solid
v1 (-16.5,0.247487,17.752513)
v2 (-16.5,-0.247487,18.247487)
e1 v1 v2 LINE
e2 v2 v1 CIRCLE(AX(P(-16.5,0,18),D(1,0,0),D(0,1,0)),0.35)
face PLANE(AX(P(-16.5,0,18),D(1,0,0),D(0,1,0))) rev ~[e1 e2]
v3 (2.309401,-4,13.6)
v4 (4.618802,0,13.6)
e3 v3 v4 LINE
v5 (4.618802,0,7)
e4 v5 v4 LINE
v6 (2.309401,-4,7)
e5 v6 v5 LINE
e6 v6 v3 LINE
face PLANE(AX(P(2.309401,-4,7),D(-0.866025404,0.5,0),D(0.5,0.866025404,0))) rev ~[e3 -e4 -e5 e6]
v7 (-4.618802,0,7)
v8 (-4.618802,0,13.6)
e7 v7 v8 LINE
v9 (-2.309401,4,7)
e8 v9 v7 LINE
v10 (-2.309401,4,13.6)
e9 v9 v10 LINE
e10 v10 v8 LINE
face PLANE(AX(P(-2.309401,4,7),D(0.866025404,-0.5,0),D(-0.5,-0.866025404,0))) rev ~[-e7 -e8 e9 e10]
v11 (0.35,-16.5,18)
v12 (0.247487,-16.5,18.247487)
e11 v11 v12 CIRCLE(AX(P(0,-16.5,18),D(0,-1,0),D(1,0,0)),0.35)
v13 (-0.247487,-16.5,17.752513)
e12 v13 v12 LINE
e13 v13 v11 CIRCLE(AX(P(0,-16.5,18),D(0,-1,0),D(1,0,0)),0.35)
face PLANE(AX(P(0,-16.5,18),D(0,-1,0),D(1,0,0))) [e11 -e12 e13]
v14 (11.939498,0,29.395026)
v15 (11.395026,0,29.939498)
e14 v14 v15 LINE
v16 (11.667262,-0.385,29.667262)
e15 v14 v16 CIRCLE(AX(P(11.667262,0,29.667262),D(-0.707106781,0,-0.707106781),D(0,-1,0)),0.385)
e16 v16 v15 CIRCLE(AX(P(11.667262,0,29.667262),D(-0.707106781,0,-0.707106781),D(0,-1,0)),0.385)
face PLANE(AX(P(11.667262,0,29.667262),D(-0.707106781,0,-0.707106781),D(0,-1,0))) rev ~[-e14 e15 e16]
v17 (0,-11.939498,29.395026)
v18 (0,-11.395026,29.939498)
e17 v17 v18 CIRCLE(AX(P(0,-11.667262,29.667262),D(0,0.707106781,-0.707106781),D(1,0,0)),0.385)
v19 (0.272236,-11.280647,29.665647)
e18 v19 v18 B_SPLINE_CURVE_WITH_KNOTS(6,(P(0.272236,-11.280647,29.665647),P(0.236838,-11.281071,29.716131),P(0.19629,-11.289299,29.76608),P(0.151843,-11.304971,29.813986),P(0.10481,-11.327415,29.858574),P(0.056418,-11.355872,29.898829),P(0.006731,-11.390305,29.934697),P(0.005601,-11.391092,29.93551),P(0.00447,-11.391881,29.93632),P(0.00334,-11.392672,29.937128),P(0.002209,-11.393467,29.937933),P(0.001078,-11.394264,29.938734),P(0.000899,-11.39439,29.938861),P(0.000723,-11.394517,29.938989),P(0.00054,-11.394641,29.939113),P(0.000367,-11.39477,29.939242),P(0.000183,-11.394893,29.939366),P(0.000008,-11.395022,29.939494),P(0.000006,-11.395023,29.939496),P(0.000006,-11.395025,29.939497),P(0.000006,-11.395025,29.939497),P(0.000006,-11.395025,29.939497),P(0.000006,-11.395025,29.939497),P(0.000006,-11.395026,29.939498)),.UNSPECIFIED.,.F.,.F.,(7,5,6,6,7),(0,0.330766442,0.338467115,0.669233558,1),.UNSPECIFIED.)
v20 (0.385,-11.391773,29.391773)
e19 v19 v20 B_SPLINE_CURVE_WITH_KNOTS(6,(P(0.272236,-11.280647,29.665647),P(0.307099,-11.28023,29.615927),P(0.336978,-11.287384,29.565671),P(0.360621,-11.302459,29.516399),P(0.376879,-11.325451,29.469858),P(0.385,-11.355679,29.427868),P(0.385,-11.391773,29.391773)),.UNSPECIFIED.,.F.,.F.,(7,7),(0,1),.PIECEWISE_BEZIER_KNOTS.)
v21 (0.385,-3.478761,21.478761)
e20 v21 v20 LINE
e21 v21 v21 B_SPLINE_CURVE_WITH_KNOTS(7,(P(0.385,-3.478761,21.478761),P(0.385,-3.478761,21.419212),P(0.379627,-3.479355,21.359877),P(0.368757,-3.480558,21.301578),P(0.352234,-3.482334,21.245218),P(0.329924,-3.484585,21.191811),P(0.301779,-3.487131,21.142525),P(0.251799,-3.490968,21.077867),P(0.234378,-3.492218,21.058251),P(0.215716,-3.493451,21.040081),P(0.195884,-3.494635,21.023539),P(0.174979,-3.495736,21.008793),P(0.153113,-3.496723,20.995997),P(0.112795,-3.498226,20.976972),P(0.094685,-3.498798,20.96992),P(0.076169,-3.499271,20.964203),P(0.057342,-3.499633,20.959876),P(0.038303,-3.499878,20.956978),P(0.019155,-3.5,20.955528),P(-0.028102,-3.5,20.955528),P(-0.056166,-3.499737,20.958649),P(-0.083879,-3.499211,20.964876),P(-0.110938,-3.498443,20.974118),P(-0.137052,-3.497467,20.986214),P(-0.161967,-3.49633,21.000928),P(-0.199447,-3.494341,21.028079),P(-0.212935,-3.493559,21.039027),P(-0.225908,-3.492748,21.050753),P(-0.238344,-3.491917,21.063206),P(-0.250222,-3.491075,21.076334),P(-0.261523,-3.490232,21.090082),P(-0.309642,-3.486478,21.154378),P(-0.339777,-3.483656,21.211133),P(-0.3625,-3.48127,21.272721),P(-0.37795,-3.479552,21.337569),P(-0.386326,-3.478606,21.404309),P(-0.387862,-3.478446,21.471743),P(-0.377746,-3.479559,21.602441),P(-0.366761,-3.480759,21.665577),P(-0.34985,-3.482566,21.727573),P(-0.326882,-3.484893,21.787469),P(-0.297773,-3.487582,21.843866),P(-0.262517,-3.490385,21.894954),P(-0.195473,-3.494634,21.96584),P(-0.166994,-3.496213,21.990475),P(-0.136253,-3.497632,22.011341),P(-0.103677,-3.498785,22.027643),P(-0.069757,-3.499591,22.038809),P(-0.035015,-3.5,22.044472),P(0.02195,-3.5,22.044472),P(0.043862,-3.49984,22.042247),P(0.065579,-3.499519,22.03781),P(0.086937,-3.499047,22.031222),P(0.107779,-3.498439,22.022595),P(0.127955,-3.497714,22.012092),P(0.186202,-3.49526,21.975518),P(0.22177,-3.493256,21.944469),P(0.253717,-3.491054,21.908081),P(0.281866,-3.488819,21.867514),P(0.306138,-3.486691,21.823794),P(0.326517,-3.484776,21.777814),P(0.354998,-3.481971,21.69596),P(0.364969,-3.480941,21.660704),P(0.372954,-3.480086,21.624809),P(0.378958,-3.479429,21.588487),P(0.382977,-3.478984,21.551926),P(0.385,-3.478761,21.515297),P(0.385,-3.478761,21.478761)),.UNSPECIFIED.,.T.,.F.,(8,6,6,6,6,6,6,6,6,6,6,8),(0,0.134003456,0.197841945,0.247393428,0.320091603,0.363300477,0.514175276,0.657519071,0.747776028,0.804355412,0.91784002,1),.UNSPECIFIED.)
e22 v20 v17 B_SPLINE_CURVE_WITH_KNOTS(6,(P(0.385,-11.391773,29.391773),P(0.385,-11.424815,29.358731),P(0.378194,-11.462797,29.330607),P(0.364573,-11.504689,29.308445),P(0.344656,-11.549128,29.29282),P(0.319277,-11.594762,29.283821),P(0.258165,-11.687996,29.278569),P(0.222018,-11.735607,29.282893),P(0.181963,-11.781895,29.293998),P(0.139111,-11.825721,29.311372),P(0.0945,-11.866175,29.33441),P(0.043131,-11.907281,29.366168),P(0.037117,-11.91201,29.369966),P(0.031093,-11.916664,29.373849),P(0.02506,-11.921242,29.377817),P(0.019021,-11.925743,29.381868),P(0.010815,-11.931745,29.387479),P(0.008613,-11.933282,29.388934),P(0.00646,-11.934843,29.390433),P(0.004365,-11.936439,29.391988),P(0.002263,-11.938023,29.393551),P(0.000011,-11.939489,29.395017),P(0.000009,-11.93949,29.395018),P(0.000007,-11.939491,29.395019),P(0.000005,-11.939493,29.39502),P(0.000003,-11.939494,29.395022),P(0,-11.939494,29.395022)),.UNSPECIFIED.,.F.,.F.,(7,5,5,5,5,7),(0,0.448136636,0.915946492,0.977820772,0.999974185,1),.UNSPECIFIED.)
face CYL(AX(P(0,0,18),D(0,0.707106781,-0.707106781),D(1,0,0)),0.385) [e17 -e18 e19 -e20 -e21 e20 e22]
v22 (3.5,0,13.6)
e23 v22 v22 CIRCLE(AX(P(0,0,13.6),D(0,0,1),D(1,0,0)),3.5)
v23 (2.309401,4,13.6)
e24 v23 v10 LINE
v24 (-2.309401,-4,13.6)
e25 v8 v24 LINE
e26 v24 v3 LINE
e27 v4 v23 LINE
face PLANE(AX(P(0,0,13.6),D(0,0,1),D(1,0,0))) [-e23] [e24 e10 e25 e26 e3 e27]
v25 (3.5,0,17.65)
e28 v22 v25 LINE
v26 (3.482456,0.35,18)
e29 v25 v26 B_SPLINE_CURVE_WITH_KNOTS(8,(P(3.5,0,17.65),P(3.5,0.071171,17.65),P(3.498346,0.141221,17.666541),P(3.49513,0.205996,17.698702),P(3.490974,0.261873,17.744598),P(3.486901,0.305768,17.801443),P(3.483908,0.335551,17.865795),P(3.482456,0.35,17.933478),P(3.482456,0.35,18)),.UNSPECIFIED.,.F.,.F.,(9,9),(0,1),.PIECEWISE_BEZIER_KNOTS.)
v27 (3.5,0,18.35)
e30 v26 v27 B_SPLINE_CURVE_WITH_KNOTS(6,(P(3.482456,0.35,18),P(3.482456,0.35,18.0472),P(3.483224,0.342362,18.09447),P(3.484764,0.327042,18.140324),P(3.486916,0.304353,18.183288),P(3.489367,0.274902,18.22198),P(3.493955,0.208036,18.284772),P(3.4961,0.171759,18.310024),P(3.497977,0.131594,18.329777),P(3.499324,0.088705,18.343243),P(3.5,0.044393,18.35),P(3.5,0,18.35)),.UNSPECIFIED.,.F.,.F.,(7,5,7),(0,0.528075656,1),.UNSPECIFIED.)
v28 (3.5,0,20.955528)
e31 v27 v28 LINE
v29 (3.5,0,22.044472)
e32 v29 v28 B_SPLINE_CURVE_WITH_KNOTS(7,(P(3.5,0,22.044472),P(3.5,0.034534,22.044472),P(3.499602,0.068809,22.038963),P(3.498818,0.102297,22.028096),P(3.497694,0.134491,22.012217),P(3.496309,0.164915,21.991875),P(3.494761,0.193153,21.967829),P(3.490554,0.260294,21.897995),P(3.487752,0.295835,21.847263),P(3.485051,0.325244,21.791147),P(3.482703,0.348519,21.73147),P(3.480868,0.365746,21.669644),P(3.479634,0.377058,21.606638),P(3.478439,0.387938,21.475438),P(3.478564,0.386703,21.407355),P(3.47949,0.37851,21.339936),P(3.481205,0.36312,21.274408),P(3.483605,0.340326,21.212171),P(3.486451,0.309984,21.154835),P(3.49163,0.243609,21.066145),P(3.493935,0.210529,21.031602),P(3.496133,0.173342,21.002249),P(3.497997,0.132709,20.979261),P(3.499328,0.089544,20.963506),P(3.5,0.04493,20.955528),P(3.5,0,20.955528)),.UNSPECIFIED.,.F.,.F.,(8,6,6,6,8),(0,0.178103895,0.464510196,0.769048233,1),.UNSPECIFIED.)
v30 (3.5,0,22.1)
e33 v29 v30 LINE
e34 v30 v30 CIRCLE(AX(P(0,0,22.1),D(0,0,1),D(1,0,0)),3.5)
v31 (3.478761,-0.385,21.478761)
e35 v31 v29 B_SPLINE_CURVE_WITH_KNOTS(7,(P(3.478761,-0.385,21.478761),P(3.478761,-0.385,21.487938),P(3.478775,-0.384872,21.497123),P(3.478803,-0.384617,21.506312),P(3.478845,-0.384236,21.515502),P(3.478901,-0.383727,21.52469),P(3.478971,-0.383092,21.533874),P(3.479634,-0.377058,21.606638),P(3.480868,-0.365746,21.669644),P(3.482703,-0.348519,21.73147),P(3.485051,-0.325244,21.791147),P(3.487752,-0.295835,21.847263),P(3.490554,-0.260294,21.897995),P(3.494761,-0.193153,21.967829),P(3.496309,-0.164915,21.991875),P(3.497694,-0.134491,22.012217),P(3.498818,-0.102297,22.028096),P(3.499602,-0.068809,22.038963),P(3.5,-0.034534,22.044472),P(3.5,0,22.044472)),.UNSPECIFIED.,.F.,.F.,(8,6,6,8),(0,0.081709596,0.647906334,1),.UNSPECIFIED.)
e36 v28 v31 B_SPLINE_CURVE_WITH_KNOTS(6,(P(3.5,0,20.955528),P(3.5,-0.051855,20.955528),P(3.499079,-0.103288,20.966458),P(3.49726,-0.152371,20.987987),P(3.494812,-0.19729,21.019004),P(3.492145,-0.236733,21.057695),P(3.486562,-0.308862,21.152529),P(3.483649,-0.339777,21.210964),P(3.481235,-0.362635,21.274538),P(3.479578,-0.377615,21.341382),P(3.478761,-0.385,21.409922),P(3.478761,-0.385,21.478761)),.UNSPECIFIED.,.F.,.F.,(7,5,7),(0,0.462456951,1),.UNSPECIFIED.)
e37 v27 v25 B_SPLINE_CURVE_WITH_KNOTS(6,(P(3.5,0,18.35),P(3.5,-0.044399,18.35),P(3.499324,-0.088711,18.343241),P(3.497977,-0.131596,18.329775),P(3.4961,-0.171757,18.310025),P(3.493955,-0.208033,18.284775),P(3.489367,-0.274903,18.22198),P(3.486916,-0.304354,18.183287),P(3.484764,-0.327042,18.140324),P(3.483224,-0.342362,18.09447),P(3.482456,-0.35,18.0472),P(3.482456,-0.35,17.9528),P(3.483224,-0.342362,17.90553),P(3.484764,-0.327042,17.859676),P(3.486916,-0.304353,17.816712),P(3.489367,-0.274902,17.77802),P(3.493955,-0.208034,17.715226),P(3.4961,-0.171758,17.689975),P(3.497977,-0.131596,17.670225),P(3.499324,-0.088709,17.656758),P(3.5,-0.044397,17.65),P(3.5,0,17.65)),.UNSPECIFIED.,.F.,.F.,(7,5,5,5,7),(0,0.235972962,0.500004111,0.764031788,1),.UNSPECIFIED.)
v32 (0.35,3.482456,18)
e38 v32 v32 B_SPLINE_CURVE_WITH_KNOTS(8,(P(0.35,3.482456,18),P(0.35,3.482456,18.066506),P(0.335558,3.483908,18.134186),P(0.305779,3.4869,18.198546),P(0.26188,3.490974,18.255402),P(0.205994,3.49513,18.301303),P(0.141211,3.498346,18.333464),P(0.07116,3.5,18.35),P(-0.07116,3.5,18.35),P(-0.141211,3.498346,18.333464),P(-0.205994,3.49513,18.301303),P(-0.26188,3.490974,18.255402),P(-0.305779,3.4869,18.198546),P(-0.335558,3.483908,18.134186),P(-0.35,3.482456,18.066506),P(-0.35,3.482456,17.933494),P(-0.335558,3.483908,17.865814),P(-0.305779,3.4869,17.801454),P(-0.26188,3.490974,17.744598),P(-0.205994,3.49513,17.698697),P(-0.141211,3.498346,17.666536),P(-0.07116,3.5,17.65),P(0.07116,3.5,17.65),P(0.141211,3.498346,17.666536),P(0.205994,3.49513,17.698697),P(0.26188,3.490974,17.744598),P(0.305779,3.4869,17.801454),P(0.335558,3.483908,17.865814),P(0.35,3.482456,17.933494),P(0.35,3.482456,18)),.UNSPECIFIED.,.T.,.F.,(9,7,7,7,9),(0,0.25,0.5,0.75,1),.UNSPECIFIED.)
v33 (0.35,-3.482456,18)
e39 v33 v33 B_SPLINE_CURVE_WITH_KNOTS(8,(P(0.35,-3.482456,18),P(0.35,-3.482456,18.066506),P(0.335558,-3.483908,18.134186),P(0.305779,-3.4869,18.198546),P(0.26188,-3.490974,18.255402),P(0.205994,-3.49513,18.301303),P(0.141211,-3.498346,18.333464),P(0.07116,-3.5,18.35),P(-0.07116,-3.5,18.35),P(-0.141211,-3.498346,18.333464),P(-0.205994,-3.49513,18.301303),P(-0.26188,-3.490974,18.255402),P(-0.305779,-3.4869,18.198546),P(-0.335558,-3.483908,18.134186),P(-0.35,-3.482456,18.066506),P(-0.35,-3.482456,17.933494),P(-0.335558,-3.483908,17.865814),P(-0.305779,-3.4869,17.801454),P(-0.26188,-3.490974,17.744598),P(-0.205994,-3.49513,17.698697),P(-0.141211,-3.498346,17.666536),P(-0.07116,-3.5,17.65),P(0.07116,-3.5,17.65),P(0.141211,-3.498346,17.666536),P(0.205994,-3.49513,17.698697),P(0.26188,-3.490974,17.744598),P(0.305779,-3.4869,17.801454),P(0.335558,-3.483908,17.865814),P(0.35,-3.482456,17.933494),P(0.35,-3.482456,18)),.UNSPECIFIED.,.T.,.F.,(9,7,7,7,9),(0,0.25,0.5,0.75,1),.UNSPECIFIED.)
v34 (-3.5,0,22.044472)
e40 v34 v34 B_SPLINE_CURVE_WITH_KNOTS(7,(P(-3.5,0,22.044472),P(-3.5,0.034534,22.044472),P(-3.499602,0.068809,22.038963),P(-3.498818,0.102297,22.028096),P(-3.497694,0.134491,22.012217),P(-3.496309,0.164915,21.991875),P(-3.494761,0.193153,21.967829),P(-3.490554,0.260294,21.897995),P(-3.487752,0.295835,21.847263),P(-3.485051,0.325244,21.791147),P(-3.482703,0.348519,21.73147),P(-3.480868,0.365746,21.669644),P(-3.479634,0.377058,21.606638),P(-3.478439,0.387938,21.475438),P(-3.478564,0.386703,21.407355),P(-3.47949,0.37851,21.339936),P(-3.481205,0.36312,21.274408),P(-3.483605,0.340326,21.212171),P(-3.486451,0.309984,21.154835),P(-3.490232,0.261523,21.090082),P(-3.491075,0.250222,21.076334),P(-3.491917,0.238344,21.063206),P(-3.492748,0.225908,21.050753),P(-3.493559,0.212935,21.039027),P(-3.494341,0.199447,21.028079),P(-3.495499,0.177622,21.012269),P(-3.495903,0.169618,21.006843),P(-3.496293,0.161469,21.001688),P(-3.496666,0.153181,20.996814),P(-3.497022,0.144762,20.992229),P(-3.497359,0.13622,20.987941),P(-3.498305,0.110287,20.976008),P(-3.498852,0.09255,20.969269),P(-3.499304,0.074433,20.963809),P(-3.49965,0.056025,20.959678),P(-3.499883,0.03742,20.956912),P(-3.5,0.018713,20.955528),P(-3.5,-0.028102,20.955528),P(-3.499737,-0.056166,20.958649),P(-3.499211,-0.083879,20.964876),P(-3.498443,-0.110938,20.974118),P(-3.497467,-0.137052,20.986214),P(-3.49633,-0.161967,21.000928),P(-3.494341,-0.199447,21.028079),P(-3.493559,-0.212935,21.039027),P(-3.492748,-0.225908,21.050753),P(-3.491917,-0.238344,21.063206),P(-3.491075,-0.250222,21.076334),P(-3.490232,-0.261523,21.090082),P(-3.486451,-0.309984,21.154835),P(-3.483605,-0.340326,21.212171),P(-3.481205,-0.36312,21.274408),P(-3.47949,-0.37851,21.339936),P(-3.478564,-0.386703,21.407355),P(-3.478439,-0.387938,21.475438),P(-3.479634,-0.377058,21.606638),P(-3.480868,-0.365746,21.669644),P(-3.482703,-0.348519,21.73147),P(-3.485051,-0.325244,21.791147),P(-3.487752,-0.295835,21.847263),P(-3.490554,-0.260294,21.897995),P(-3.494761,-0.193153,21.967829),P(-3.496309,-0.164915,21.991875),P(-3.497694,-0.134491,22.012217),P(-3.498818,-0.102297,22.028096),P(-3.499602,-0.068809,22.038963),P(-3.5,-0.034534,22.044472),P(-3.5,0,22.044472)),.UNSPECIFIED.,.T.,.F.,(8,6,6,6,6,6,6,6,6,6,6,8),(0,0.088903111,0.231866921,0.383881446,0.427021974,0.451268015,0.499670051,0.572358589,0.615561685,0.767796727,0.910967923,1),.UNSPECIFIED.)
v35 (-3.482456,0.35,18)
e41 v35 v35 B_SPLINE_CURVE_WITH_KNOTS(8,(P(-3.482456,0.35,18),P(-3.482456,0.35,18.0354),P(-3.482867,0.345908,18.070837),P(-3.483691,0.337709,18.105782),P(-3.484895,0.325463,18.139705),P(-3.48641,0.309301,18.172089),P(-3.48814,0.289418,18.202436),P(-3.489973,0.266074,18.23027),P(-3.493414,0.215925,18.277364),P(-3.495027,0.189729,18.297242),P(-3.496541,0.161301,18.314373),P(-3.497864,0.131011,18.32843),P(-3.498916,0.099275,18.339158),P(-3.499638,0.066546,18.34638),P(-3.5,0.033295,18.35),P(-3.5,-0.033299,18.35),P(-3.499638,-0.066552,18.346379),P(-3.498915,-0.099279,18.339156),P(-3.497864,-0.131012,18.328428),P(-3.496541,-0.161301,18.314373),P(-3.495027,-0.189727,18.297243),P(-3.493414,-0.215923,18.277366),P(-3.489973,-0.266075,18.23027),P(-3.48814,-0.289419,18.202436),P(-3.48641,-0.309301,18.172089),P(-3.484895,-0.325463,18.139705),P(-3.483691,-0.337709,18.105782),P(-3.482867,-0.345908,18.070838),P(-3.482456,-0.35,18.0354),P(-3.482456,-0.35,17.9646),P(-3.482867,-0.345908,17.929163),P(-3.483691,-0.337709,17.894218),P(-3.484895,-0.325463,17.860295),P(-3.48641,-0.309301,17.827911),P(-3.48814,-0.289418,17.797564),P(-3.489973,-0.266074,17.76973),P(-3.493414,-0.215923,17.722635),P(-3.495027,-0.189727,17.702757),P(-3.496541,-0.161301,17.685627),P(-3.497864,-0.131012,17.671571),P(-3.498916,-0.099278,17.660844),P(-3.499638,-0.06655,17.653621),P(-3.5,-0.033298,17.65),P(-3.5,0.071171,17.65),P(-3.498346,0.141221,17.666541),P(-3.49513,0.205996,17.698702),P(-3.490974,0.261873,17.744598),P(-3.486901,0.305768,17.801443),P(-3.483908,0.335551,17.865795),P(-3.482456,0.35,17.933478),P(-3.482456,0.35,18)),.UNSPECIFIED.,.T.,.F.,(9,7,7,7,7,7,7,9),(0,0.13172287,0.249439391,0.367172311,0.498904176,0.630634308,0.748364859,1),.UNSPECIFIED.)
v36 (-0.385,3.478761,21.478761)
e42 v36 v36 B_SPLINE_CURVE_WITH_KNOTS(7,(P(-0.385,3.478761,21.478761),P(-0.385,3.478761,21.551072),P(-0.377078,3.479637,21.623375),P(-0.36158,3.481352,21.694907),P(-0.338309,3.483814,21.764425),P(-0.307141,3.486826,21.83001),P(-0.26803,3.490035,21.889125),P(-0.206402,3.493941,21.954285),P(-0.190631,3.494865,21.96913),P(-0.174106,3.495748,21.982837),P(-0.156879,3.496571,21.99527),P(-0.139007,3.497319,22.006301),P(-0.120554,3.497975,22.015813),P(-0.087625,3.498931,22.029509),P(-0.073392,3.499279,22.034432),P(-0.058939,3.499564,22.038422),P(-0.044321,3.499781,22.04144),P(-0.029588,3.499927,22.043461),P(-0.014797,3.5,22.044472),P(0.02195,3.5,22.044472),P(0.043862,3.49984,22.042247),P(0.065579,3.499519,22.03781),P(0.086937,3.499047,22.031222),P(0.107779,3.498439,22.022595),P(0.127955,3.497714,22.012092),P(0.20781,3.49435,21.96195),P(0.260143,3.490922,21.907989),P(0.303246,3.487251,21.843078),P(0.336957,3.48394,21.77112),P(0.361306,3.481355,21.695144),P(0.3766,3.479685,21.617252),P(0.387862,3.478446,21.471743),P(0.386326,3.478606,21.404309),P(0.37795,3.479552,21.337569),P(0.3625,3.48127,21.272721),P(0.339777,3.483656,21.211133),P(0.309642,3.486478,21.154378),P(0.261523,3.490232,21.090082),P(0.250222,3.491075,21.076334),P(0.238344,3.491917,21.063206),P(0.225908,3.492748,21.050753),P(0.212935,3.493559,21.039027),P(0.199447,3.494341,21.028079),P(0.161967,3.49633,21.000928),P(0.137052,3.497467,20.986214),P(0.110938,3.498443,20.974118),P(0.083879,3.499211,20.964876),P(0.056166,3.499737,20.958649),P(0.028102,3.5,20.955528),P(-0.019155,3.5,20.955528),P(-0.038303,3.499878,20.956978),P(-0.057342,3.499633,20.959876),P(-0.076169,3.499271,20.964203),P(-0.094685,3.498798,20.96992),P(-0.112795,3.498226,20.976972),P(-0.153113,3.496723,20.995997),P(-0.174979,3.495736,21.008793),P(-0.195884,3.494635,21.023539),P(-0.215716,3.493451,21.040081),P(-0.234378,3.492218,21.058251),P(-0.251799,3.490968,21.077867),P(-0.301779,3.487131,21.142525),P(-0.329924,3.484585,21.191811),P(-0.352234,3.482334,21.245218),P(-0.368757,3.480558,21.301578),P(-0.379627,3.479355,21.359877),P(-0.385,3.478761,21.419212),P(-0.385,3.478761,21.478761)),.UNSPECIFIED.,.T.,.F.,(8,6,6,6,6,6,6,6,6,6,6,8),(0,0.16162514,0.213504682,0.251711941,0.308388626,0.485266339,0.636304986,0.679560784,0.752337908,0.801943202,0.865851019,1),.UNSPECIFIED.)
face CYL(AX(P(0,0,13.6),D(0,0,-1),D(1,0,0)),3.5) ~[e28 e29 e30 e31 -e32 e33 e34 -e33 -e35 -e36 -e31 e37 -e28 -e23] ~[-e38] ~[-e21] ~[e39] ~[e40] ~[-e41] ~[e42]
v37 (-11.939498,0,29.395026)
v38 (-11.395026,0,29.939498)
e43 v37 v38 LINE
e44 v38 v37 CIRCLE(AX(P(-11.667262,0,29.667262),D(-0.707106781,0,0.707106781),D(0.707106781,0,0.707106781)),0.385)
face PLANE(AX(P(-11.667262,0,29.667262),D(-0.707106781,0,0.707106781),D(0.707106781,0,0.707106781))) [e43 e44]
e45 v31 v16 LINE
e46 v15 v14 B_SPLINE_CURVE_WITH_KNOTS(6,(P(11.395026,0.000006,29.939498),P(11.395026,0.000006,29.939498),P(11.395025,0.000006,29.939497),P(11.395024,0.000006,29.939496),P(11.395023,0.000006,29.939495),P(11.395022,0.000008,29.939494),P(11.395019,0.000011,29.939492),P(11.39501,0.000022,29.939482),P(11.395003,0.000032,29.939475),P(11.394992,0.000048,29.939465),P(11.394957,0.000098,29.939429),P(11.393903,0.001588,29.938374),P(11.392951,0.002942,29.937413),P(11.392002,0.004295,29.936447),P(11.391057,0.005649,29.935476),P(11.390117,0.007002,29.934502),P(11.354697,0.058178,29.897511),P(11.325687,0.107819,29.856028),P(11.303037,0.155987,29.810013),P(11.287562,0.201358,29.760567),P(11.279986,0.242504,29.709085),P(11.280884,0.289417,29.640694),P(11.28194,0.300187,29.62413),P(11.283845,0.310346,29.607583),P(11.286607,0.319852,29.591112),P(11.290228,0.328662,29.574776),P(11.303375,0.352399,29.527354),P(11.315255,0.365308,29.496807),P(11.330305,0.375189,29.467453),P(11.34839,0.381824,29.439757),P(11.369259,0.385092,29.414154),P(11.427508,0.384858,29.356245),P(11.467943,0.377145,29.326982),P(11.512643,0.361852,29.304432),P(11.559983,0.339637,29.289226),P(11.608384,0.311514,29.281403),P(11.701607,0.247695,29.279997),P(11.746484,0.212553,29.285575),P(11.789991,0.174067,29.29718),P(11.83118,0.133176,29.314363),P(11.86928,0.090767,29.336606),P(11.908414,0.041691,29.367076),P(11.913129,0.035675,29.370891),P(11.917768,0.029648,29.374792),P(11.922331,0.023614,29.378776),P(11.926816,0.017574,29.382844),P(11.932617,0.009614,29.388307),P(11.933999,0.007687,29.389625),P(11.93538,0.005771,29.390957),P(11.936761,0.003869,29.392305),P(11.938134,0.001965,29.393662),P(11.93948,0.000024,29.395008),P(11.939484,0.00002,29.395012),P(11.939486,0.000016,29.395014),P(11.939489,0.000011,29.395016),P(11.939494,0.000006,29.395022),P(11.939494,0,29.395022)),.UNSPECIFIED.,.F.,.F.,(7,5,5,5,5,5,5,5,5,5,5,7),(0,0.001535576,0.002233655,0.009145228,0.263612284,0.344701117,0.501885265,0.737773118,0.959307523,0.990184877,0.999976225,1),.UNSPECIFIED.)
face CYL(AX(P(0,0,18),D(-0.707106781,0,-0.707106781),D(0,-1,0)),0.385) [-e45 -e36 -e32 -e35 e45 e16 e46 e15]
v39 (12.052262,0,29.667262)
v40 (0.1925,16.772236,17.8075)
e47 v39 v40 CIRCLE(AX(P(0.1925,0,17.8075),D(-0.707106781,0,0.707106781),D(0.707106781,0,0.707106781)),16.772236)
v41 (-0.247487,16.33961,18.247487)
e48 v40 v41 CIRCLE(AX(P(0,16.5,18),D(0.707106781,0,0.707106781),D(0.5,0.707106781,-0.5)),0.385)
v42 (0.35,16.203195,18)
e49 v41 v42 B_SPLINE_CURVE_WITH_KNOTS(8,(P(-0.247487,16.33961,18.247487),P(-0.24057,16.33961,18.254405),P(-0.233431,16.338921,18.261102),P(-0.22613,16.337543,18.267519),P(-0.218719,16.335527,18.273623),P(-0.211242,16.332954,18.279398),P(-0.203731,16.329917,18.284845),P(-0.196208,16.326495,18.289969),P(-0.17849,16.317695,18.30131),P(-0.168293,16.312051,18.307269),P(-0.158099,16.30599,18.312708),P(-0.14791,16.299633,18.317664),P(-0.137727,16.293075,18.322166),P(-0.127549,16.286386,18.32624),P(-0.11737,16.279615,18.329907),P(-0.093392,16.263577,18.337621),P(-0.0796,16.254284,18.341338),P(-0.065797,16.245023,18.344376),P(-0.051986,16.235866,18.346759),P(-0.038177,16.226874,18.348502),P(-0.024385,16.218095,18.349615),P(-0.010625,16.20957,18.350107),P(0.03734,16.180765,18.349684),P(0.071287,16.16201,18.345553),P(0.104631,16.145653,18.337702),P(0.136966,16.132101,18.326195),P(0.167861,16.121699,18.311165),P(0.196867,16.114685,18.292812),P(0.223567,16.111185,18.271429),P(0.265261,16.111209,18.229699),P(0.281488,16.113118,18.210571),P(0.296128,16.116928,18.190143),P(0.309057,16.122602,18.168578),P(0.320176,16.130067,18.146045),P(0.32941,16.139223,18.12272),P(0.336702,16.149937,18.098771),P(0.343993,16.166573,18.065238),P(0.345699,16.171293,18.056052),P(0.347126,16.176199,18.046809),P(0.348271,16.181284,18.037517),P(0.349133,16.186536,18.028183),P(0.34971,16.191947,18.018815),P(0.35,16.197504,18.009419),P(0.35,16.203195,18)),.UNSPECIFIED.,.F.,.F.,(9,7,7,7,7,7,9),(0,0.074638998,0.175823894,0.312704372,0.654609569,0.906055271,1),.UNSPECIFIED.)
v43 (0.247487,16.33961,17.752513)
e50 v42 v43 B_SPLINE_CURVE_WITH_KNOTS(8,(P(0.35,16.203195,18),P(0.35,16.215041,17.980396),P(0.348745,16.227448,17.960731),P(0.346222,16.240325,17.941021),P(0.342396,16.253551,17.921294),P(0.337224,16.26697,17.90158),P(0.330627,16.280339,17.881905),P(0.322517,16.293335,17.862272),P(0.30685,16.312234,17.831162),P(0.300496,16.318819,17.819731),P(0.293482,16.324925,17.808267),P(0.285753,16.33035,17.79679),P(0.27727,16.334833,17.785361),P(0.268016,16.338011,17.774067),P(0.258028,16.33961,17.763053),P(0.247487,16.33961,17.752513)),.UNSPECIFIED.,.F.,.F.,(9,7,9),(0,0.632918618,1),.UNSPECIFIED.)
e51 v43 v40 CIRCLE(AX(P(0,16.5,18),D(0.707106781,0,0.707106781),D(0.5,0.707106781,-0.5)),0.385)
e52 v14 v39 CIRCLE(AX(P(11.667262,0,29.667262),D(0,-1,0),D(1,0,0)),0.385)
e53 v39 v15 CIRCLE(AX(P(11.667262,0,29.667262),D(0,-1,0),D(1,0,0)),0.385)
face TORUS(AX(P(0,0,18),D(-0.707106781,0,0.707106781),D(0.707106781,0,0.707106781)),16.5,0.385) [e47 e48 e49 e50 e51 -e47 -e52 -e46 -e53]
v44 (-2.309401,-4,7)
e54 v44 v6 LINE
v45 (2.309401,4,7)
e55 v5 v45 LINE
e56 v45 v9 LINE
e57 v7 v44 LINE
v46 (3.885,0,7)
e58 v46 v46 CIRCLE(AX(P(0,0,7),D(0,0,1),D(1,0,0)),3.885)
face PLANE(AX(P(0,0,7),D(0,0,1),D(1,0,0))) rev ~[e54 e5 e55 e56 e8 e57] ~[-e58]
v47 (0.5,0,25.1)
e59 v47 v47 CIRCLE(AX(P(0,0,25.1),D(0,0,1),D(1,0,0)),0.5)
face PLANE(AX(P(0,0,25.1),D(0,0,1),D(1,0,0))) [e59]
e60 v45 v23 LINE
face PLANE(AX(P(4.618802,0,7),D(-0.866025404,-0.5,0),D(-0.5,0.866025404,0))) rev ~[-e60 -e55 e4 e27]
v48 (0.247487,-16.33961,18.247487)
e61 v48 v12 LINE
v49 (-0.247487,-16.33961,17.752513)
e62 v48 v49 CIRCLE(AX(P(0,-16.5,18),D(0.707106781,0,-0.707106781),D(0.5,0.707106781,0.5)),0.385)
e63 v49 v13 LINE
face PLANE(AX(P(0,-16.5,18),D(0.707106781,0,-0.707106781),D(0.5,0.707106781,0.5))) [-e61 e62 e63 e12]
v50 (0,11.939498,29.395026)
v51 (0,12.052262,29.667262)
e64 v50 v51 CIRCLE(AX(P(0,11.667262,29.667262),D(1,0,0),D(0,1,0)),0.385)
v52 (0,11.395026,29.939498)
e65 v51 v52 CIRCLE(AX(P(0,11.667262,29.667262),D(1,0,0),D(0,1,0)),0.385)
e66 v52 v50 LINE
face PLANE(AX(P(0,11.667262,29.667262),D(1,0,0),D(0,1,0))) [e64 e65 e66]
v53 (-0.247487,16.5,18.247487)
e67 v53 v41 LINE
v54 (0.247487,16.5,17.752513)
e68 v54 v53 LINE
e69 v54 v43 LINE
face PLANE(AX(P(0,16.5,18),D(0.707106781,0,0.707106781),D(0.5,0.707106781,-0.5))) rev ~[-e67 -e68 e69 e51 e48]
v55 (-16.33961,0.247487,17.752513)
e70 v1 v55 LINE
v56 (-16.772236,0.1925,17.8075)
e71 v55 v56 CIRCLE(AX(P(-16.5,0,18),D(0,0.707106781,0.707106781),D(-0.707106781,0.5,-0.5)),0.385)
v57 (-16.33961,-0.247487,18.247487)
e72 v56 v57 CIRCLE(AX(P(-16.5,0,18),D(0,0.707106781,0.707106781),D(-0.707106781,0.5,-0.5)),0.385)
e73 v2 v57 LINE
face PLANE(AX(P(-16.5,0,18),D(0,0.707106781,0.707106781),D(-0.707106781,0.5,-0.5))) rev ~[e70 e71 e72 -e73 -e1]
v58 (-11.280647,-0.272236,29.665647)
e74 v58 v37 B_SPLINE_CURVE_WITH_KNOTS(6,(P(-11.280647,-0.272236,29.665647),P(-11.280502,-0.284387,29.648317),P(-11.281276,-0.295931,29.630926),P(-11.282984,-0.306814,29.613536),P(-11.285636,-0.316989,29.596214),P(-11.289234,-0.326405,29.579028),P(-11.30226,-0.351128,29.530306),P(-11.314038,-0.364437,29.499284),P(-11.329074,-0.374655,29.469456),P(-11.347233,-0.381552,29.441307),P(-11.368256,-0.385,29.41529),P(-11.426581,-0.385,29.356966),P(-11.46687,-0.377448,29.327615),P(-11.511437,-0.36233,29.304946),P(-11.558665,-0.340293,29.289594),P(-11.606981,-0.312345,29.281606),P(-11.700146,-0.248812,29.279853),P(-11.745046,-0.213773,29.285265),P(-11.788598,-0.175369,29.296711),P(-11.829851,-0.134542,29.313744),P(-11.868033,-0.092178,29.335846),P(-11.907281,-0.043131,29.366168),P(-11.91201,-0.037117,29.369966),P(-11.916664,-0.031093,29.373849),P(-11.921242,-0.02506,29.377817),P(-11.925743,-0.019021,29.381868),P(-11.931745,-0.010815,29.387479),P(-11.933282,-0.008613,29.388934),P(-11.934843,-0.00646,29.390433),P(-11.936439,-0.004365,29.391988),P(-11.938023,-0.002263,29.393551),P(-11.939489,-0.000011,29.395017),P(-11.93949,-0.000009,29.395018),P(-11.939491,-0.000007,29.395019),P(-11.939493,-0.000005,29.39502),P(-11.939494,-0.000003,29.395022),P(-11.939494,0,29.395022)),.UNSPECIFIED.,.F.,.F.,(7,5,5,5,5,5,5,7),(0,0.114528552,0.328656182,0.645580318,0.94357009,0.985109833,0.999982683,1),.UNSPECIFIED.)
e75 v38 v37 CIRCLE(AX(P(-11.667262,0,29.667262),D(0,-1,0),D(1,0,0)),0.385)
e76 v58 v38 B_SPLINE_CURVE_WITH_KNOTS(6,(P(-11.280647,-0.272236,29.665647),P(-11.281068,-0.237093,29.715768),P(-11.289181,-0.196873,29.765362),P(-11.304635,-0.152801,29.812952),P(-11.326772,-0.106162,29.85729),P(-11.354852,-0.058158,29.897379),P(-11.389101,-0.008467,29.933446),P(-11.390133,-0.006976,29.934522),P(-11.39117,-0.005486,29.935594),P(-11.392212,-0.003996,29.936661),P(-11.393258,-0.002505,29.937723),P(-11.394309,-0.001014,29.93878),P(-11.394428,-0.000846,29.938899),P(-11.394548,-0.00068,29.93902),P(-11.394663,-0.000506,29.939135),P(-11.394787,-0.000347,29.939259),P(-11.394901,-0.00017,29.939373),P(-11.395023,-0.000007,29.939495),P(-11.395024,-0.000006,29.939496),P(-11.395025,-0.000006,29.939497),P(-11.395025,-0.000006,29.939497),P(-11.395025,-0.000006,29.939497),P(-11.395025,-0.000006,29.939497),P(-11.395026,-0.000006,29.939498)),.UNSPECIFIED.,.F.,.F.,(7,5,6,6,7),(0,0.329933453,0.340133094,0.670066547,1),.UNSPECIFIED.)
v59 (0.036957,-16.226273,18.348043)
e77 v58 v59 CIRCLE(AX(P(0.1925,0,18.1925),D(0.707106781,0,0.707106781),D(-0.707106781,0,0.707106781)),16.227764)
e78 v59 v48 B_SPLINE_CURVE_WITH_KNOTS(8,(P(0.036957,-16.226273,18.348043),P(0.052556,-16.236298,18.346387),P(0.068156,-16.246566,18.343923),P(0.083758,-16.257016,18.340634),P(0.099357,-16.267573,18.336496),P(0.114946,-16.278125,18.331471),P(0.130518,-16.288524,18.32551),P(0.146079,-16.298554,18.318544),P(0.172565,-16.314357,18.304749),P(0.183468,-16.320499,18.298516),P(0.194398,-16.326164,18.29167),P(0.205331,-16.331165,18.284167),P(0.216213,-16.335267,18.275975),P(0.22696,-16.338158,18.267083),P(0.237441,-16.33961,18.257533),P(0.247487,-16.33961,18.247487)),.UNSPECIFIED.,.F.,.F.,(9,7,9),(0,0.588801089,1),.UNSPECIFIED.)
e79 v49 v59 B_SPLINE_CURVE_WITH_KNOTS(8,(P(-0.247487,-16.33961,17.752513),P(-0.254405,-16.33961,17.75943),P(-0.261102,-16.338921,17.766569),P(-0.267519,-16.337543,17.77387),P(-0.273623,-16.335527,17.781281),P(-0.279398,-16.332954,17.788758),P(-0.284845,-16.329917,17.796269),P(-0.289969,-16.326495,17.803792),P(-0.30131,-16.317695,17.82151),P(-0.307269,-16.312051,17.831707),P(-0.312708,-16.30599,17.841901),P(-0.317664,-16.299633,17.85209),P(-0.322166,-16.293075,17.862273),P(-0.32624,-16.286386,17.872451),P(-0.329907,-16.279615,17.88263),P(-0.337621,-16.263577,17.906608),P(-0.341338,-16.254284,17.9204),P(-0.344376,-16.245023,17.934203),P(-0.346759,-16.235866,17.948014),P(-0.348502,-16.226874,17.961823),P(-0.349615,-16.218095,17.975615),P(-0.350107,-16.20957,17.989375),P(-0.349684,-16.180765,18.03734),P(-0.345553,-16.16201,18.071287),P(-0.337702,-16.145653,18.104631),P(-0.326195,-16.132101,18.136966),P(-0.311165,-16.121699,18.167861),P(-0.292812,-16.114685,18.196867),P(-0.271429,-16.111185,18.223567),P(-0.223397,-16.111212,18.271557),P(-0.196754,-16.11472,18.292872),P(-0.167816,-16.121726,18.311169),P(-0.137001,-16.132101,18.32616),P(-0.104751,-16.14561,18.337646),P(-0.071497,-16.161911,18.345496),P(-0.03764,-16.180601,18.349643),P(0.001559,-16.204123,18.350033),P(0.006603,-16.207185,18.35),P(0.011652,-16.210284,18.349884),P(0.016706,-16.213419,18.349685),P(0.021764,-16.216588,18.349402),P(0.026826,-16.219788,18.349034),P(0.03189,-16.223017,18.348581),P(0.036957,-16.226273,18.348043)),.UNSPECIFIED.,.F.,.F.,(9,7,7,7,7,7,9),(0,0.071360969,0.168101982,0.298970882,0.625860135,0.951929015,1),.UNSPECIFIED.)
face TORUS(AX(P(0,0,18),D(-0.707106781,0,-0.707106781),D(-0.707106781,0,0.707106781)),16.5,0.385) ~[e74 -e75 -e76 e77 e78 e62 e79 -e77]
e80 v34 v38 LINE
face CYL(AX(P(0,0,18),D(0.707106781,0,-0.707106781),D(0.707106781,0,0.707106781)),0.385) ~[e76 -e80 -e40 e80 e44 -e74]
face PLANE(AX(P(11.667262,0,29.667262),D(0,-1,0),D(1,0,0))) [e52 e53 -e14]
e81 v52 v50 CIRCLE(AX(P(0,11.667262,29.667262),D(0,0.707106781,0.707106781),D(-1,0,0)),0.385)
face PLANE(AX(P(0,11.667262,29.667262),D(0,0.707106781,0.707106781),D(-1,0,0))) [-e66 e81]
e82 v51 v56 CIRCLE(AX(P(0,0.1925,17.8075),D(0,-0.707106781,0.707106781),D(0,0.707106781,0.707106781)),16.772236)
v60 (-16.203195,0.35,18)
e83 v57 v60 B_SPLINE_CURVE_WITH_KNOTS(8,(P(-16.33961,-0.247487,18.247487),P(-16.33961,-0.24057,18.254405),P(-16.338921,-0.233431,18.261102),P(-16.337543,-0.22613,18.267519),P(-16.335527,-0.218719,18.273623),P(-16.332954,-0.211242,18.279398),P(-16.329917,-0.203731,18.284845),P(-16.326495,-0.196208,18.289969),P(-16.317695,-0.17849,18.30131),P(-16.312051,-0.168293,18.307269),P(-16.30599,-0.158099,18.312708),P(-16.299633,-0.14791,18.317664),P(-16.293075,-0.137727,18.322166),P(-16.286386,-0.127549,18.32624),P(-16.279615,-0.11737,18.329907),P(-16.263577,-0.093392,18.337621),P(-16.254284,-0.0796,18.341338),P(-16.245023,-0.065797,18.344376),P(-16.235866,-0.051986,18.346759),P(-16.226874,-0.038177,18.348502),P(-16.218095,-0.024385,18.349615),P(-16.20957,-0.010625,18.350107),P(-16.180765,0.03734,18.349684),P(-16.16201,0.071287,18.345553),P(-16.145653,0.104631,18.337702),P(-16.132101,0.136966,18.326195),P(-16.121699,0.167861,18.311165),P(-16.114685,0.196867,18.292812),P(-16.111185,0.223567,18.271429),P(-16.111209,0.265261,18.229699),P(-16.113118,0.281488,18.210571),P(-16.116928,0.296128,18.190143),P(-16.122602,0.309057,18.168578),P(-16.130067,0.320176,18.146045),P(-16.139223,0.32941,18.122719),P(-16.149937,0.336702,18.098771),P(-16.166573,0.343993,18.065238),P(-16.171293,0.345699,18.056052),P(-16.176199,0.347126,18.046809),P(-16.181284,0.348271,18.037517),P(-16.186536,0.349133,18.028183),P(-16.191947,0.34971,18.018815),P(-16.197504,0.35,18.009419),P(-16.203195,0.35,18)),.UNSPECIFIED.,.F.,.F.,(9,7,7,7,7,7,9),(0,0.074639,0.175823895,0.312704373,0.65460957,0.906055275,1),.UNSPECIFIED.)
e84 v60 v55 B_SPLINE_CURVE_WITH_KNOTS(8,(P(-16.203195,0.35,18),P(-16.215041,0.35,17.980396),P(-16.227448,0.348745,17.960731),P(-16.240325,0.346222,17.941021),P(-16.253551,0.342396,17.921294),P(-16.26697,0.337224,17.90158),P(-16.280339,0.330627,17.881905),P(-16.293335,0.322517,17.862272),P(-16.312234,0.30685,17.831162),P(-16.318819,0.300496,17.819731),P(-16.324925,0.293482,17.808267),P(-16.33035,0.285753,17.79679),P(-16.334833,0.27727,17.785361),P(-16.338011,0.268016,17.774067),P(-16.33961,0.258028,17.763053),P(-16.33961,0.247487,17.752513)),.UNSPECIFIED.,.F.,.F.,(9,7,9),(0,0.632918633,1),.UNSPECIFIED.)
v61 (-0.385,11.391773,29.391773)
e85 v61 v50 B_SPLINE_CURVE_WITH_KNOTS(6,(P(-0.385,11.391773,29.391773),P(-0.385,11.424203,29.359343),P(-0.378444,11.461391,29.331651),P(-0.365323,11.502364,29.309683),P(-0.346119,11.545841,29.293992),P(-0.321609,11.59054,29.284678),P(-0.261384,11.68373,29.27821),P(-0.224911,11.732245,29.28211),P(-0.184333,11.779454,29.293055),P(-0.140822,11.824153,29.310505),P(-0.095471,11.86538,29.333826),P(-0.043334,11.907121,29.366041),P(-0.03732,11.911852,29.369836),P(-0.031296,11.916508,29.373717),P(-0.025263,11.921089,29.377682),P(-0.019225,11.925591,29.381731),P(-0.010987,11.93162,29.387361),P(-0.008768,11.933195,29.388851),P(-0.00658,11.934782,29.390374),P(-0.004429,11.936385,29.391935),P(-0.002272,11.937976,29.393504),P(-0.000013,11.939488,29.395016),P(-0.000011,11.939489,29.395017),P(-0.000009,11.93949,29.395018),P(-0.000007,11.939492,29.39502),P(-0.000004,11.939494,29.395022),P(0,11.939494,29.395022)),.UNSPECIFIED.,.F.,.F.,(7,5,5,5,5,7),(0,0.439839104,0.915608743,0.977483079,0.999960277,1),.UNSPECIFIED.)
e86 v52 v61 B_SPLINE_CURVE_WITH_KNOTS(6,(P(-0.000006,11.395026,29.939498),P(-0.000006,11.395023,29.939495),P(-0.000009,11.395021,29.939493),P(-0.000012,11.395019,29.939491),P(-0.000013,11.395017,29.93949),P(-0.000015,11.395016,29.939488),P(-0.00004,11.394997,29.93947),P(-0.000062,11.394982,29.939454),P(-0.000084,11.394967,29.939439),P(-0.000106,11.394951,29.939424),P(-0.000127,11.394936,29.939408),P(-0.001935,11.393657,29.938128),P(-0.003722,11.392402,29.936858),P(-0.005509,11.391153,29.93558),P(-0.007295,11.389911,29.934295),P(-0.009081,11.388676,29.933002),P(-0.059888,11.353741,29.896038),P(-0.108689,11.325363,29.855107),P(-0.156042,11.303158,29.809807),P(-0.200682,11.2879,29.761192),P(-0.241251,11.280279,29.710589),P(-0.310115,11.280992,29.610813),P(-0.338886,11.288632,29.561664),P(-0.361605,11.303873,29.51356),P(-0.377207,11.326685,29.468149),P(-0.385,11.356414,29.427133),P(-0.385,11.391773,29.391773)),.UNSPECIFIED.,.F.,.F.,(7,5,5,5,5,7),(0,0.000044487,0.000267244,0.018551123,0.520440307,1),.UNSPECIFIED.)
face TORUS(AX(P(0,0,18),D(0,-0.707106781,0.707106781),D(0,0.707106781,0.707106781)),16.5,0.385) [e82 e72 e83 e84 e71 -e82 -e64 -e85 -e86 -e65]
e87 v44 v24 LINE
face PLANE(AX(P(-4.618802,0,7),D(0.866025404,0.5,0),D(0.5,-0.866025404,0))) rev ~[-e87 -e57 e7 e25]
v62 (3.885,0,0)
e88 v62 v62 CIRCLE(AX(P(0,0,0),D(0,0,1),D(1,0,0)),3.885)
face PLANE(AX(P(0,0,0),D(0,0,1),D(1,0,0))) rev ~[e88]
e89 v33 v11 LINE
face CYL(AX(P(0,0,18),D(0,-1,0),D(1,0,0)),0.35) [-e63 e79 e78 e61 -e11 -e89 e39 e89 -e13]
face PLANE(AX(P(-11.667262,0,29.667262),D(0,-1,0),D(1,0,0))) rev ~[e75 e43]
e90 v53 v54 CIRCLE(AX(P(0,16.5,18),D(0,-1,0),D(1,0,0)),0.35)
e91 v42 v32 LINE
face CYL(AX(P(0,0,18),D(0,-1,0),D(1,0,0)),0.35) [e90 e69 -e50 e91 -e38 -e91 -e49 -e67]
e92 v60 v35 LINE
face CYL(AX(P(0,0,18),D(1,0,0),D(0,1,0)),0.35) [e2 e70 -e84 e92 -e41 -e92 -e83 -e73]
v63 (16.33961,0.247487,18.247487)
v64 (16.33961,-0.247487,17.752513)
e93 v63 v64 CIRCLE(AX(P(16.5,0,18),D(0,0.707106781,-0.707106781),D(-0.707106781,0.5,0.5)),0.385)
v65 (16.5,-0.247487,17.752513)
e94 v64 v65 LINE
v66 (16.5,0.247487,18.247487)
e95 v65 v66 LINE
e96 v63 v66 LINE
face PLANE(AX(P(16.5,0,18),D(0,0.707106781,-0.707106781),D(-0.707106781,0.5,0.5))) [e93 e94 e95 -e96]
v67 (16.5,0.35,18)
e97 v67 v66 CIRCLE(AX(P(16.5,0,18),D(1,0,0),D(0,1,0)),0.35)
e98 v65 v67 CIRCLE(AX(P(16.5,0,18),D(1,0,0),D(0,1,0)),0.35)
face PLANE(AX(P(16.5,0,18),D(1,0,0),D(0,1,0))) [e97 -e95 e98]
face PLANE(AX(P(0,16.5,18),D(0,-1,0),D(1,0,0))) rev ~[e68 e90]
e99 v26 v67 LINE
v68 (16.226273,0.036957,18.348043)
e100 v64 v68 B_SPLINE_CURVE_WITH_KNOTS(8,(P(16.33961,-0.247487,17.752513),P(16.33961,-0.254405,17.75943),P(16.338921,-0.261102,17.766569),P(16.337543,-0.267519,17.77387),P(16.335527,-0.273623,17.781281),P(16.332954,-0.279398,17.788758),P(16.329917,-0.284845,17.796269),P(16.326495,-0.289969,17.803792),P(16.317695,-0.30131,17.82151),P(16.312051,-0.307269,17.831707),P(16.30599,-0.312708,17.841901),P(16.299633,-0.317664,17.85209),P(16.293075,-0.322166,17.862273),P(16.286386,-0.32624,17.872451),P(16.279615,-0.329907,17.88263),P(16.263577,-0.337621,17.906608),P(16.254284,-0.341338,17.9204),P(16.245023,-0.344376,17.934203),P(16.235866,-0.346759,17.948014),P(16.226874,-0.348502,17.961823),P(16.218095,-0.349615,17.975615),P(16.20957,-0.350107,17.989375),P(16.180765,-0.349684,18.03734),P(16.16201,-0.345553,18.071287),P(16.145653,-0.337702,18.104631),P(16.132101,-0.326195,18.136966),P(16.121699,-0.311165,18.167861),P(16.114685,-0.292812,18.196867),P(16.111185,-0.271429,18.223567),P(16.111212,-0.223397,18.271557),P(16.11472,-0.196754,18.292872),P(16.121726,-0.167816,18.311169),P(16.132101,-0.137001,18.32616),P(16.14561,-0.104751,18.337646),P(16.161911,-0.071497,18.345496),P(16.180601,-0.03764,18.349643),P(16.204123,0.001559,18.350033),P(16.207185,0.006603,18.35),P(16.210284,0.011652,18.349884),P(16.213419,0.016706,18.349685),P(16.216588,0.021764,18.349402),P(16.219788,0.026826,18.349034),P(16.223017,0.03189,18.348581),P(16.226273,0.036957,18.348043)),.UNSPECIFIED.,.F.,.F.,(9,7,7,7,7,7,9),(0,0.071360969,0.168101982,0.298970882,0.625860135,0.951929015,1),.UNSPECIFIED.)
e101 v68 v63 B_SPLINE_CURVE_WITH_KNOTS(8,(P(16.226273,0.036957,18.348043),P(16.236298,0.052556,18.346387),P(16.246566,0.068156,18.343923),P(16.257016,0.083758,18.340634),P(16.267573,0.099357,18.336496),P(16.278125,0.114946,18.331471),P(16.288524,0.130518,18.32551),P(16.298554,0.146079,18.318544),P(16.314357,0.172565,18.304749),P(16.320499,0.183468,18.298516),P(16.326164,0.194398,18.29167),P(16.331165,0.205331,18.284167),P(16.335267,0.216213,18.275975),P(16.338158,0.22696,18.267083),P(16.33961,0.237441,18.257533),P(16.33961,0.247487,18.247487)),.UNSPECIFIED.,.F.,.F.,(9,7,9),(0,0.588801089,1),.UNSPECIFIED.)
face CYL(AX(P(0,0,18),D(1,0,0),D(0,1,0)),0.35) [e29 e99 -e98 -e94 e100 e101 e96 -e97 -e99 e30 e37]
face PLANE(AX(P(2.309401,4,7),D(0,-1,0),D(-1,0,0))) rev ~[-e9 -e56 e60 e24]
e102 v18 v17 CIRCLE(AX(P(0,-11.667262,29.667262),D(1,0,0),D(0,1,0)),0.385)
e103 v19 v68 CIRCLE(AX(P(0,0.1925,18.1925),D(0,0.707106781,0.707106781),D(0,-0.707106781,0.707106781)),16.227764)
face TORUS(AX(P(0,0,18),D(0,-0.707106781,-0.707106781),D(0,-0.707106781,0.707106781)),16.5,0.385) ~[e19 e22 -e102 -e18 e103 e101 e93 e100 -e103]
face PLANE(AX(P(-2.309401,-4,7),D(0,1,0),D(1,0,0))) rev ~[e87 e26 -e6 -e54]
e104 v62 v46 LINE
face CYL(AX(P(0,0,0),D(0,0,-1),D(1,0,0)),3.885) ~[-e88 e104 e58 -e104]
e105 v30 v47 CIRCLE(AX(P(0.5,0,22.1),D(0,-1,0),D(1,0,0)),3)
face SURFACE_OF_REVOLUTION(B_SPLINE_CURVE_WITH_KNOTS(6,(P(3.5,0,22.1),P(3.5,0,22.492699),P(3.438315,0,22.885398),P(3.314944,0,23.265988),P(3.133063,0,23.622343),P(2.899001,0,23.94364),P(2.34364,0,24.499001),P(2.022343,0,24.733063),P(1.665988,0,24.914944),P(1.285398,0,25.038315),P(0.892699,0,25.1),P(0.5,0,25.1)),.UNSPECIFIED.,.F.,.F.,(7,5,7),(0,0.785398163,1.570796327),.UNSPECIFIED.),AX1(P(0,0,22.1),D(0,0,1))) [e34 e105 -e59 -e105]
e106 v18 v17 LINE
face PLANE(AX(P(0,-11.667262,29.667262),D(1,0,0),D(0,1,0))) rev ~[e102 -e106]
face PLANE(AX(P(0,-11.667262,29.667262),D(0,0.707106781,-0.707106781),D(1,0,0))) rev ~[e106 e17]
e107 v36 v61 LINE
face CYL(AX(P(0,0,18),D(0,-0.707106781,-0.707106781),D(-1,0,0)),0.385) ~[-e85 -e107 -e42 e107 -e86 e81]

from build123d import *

# Parameters (mm, degrees)
F0_R      = 3.885
F1_DEPTH  = 7
F3_DEPTH  = 6.6
F4_R      = 3.5
F5_DEPTH  = 11.5
F6_R      = 3
F7_R      = 0.35
F9_DEPTH  = 16.5
F8_R      = 0.35
F10_DEPTH = 16.5
F14_R     = 0.385
F15_DEPTH = 16.5
F17_R     = 0.385
F18_DEPTH = 16.5
F22_R     = 0.385
F23_DEPTH = 16.5
F24_R     = 0.385
F25_DEPTH = 16.5
F26_R     = 0.385
F27_ANGLE = 90
F28_R     = 0.385
F29_ANGLE = 90
F30_ANGLE = 90
F31_ANGLE = 90


with BuildPart() as f1:
    # F0 (on Top) → F1 (new body)
    with BuildSketch(Plane.XY):
        Circle(F0_R)
    extrude(amount=F1_DEPTH)

    # F2 (on face) → F3 (join)
    with BuildSketch(Plane.XY.offset(7)):
        Polygon((2.3094010768, 4), (-2.3094010768, 4), (-4.6188021535, 0), (-2.3094010768, -4), (2.3094010768, -4), (4.6188021535, 0), align=None)
    extrude(amount=F3_DEPTH)

    # F4 (on face) → F5 (join)
    with BuildSketch(Plane.XY.offset(13.6)):
        Circle(F4_R)
    extrude(amount=F5_DEPTH)

    # F6
    f6_edges = [f1.edges().sort_by_distance(p)[0] for p in [
        (-3.5, 0, 25.1),
    ]]
    fillet(f6_edges, radius=F6_R)

    # F7 (on Front) → F9 (join, symmetric)
    with BuildSketch(Plane.XZ):
        with Locations((0, 18)):
            Circle(F7_R)
    extrude(amount=F9_DEPTH, both=True)

    # F8 (on Right) → F10 (join, symmetric)
    with BuildSketch(Plane.YZ):
        with Locations((0, 18)):
            Circle(F8_R)
    extrude(amount=F10_DEPTH, both=True)



with BuildPart() as f15:
    # F14 (on line) → F15 (new body)
    with BuildSketch(Plane(origin=(0, 9, 9), x_dir=(-1, 0, 0), z_dir=(0, 0.7071067812, 0.7071067812))):
        with Locations((0, 12.7279220614)):
            Circle(F14_R)
    extrude(amount=F15_DEPTH)


with BuildPart() as f1_1:
    add(f1.part)

    add(f15.part)  # F18 merges F15
    # F17 (on line) → F18 (join)
    with BuildSketch(Plane(origin=(0, -9, 9), x_dir=(1, 0, 0), z_dir=(0, 0.7071067812, -0.7071067812))):
        with Locations((0, -12.7279220614)):
            Circle(F17_R)
    extrude(amount=-F18_DEPTH)

    # F22 (on line) → F23 (join)
    with BuildSketch(Plane(origin=(-9, 0, 9), x_dir=(0.7071067812, 0, 0.7071067812), z_dir=(-0.7071067812, 0, 0.7071067812))):
        with Locations((12.7279220614, 0)):
            Circle(F22_R)
    extrude(amount=F23_DEPTH)

    # F24 (on line) → F25 (join)
    with BuildSketch(Plane(origin=(9, 0, 9), x_dir=(0, -1, 0), z_dir=(-0.7071067812, 0, -0.7071067812))):
        with Locations((0, 12.7279220614)):
            Circle(F24_R)
    extrude(amount=-F25_DEPTH)

    # F26 (on Front) → F27 (revolve)
    with BuildSketch(Plane.XZ):
        with Locations((11.6672618896, 29.6672618896)):
            Circle(F26_R)
    revolve(axis=Axis((0.6538585199, 0, 17.3461414801), (-0.7071067812, 0, 0.7071067812)), revolution_arc=F27_ANGLE)

    # F28 (on Right) → F29 (revolve)
    with BuildSketch(Plane.YZ):
        with Locations((-11.6672618896, 29.6672618896)):
            Circle(F28_R)
    revolve(axis=Axis((0, 0.7704874831, 18.7704874831), (0, 0.7071067812, 0.7071067812)), revolution_arc=F29_ANGLE)

    # F28 (on Right) → F30 (revolve)
    with BuildSketch(Plane.YZ):
        with Locations((11.6672618896, 29.6672618896)):
            Circle(F28_R)
    revolve(axis=Axis((0, -0.9514876344, 18.9514876344), (0, -0.7071067812, 0.7071067812)), revolution_arc=F30_ANGLE)

    # F26 (on Front) → F31 (revolve)
    with BuildSketch(Plane.XZ):
        with Locations((-11.6672618896, 29.6672618896)):
            Circle(F26_R)
    revolve(axis=Axis((-0.7859550333, 0, 17.2140449667), (0.7071067812, 0, 0.7071067812)), revolution_arc=F31_ANGLE)


solid = f1_1.part
